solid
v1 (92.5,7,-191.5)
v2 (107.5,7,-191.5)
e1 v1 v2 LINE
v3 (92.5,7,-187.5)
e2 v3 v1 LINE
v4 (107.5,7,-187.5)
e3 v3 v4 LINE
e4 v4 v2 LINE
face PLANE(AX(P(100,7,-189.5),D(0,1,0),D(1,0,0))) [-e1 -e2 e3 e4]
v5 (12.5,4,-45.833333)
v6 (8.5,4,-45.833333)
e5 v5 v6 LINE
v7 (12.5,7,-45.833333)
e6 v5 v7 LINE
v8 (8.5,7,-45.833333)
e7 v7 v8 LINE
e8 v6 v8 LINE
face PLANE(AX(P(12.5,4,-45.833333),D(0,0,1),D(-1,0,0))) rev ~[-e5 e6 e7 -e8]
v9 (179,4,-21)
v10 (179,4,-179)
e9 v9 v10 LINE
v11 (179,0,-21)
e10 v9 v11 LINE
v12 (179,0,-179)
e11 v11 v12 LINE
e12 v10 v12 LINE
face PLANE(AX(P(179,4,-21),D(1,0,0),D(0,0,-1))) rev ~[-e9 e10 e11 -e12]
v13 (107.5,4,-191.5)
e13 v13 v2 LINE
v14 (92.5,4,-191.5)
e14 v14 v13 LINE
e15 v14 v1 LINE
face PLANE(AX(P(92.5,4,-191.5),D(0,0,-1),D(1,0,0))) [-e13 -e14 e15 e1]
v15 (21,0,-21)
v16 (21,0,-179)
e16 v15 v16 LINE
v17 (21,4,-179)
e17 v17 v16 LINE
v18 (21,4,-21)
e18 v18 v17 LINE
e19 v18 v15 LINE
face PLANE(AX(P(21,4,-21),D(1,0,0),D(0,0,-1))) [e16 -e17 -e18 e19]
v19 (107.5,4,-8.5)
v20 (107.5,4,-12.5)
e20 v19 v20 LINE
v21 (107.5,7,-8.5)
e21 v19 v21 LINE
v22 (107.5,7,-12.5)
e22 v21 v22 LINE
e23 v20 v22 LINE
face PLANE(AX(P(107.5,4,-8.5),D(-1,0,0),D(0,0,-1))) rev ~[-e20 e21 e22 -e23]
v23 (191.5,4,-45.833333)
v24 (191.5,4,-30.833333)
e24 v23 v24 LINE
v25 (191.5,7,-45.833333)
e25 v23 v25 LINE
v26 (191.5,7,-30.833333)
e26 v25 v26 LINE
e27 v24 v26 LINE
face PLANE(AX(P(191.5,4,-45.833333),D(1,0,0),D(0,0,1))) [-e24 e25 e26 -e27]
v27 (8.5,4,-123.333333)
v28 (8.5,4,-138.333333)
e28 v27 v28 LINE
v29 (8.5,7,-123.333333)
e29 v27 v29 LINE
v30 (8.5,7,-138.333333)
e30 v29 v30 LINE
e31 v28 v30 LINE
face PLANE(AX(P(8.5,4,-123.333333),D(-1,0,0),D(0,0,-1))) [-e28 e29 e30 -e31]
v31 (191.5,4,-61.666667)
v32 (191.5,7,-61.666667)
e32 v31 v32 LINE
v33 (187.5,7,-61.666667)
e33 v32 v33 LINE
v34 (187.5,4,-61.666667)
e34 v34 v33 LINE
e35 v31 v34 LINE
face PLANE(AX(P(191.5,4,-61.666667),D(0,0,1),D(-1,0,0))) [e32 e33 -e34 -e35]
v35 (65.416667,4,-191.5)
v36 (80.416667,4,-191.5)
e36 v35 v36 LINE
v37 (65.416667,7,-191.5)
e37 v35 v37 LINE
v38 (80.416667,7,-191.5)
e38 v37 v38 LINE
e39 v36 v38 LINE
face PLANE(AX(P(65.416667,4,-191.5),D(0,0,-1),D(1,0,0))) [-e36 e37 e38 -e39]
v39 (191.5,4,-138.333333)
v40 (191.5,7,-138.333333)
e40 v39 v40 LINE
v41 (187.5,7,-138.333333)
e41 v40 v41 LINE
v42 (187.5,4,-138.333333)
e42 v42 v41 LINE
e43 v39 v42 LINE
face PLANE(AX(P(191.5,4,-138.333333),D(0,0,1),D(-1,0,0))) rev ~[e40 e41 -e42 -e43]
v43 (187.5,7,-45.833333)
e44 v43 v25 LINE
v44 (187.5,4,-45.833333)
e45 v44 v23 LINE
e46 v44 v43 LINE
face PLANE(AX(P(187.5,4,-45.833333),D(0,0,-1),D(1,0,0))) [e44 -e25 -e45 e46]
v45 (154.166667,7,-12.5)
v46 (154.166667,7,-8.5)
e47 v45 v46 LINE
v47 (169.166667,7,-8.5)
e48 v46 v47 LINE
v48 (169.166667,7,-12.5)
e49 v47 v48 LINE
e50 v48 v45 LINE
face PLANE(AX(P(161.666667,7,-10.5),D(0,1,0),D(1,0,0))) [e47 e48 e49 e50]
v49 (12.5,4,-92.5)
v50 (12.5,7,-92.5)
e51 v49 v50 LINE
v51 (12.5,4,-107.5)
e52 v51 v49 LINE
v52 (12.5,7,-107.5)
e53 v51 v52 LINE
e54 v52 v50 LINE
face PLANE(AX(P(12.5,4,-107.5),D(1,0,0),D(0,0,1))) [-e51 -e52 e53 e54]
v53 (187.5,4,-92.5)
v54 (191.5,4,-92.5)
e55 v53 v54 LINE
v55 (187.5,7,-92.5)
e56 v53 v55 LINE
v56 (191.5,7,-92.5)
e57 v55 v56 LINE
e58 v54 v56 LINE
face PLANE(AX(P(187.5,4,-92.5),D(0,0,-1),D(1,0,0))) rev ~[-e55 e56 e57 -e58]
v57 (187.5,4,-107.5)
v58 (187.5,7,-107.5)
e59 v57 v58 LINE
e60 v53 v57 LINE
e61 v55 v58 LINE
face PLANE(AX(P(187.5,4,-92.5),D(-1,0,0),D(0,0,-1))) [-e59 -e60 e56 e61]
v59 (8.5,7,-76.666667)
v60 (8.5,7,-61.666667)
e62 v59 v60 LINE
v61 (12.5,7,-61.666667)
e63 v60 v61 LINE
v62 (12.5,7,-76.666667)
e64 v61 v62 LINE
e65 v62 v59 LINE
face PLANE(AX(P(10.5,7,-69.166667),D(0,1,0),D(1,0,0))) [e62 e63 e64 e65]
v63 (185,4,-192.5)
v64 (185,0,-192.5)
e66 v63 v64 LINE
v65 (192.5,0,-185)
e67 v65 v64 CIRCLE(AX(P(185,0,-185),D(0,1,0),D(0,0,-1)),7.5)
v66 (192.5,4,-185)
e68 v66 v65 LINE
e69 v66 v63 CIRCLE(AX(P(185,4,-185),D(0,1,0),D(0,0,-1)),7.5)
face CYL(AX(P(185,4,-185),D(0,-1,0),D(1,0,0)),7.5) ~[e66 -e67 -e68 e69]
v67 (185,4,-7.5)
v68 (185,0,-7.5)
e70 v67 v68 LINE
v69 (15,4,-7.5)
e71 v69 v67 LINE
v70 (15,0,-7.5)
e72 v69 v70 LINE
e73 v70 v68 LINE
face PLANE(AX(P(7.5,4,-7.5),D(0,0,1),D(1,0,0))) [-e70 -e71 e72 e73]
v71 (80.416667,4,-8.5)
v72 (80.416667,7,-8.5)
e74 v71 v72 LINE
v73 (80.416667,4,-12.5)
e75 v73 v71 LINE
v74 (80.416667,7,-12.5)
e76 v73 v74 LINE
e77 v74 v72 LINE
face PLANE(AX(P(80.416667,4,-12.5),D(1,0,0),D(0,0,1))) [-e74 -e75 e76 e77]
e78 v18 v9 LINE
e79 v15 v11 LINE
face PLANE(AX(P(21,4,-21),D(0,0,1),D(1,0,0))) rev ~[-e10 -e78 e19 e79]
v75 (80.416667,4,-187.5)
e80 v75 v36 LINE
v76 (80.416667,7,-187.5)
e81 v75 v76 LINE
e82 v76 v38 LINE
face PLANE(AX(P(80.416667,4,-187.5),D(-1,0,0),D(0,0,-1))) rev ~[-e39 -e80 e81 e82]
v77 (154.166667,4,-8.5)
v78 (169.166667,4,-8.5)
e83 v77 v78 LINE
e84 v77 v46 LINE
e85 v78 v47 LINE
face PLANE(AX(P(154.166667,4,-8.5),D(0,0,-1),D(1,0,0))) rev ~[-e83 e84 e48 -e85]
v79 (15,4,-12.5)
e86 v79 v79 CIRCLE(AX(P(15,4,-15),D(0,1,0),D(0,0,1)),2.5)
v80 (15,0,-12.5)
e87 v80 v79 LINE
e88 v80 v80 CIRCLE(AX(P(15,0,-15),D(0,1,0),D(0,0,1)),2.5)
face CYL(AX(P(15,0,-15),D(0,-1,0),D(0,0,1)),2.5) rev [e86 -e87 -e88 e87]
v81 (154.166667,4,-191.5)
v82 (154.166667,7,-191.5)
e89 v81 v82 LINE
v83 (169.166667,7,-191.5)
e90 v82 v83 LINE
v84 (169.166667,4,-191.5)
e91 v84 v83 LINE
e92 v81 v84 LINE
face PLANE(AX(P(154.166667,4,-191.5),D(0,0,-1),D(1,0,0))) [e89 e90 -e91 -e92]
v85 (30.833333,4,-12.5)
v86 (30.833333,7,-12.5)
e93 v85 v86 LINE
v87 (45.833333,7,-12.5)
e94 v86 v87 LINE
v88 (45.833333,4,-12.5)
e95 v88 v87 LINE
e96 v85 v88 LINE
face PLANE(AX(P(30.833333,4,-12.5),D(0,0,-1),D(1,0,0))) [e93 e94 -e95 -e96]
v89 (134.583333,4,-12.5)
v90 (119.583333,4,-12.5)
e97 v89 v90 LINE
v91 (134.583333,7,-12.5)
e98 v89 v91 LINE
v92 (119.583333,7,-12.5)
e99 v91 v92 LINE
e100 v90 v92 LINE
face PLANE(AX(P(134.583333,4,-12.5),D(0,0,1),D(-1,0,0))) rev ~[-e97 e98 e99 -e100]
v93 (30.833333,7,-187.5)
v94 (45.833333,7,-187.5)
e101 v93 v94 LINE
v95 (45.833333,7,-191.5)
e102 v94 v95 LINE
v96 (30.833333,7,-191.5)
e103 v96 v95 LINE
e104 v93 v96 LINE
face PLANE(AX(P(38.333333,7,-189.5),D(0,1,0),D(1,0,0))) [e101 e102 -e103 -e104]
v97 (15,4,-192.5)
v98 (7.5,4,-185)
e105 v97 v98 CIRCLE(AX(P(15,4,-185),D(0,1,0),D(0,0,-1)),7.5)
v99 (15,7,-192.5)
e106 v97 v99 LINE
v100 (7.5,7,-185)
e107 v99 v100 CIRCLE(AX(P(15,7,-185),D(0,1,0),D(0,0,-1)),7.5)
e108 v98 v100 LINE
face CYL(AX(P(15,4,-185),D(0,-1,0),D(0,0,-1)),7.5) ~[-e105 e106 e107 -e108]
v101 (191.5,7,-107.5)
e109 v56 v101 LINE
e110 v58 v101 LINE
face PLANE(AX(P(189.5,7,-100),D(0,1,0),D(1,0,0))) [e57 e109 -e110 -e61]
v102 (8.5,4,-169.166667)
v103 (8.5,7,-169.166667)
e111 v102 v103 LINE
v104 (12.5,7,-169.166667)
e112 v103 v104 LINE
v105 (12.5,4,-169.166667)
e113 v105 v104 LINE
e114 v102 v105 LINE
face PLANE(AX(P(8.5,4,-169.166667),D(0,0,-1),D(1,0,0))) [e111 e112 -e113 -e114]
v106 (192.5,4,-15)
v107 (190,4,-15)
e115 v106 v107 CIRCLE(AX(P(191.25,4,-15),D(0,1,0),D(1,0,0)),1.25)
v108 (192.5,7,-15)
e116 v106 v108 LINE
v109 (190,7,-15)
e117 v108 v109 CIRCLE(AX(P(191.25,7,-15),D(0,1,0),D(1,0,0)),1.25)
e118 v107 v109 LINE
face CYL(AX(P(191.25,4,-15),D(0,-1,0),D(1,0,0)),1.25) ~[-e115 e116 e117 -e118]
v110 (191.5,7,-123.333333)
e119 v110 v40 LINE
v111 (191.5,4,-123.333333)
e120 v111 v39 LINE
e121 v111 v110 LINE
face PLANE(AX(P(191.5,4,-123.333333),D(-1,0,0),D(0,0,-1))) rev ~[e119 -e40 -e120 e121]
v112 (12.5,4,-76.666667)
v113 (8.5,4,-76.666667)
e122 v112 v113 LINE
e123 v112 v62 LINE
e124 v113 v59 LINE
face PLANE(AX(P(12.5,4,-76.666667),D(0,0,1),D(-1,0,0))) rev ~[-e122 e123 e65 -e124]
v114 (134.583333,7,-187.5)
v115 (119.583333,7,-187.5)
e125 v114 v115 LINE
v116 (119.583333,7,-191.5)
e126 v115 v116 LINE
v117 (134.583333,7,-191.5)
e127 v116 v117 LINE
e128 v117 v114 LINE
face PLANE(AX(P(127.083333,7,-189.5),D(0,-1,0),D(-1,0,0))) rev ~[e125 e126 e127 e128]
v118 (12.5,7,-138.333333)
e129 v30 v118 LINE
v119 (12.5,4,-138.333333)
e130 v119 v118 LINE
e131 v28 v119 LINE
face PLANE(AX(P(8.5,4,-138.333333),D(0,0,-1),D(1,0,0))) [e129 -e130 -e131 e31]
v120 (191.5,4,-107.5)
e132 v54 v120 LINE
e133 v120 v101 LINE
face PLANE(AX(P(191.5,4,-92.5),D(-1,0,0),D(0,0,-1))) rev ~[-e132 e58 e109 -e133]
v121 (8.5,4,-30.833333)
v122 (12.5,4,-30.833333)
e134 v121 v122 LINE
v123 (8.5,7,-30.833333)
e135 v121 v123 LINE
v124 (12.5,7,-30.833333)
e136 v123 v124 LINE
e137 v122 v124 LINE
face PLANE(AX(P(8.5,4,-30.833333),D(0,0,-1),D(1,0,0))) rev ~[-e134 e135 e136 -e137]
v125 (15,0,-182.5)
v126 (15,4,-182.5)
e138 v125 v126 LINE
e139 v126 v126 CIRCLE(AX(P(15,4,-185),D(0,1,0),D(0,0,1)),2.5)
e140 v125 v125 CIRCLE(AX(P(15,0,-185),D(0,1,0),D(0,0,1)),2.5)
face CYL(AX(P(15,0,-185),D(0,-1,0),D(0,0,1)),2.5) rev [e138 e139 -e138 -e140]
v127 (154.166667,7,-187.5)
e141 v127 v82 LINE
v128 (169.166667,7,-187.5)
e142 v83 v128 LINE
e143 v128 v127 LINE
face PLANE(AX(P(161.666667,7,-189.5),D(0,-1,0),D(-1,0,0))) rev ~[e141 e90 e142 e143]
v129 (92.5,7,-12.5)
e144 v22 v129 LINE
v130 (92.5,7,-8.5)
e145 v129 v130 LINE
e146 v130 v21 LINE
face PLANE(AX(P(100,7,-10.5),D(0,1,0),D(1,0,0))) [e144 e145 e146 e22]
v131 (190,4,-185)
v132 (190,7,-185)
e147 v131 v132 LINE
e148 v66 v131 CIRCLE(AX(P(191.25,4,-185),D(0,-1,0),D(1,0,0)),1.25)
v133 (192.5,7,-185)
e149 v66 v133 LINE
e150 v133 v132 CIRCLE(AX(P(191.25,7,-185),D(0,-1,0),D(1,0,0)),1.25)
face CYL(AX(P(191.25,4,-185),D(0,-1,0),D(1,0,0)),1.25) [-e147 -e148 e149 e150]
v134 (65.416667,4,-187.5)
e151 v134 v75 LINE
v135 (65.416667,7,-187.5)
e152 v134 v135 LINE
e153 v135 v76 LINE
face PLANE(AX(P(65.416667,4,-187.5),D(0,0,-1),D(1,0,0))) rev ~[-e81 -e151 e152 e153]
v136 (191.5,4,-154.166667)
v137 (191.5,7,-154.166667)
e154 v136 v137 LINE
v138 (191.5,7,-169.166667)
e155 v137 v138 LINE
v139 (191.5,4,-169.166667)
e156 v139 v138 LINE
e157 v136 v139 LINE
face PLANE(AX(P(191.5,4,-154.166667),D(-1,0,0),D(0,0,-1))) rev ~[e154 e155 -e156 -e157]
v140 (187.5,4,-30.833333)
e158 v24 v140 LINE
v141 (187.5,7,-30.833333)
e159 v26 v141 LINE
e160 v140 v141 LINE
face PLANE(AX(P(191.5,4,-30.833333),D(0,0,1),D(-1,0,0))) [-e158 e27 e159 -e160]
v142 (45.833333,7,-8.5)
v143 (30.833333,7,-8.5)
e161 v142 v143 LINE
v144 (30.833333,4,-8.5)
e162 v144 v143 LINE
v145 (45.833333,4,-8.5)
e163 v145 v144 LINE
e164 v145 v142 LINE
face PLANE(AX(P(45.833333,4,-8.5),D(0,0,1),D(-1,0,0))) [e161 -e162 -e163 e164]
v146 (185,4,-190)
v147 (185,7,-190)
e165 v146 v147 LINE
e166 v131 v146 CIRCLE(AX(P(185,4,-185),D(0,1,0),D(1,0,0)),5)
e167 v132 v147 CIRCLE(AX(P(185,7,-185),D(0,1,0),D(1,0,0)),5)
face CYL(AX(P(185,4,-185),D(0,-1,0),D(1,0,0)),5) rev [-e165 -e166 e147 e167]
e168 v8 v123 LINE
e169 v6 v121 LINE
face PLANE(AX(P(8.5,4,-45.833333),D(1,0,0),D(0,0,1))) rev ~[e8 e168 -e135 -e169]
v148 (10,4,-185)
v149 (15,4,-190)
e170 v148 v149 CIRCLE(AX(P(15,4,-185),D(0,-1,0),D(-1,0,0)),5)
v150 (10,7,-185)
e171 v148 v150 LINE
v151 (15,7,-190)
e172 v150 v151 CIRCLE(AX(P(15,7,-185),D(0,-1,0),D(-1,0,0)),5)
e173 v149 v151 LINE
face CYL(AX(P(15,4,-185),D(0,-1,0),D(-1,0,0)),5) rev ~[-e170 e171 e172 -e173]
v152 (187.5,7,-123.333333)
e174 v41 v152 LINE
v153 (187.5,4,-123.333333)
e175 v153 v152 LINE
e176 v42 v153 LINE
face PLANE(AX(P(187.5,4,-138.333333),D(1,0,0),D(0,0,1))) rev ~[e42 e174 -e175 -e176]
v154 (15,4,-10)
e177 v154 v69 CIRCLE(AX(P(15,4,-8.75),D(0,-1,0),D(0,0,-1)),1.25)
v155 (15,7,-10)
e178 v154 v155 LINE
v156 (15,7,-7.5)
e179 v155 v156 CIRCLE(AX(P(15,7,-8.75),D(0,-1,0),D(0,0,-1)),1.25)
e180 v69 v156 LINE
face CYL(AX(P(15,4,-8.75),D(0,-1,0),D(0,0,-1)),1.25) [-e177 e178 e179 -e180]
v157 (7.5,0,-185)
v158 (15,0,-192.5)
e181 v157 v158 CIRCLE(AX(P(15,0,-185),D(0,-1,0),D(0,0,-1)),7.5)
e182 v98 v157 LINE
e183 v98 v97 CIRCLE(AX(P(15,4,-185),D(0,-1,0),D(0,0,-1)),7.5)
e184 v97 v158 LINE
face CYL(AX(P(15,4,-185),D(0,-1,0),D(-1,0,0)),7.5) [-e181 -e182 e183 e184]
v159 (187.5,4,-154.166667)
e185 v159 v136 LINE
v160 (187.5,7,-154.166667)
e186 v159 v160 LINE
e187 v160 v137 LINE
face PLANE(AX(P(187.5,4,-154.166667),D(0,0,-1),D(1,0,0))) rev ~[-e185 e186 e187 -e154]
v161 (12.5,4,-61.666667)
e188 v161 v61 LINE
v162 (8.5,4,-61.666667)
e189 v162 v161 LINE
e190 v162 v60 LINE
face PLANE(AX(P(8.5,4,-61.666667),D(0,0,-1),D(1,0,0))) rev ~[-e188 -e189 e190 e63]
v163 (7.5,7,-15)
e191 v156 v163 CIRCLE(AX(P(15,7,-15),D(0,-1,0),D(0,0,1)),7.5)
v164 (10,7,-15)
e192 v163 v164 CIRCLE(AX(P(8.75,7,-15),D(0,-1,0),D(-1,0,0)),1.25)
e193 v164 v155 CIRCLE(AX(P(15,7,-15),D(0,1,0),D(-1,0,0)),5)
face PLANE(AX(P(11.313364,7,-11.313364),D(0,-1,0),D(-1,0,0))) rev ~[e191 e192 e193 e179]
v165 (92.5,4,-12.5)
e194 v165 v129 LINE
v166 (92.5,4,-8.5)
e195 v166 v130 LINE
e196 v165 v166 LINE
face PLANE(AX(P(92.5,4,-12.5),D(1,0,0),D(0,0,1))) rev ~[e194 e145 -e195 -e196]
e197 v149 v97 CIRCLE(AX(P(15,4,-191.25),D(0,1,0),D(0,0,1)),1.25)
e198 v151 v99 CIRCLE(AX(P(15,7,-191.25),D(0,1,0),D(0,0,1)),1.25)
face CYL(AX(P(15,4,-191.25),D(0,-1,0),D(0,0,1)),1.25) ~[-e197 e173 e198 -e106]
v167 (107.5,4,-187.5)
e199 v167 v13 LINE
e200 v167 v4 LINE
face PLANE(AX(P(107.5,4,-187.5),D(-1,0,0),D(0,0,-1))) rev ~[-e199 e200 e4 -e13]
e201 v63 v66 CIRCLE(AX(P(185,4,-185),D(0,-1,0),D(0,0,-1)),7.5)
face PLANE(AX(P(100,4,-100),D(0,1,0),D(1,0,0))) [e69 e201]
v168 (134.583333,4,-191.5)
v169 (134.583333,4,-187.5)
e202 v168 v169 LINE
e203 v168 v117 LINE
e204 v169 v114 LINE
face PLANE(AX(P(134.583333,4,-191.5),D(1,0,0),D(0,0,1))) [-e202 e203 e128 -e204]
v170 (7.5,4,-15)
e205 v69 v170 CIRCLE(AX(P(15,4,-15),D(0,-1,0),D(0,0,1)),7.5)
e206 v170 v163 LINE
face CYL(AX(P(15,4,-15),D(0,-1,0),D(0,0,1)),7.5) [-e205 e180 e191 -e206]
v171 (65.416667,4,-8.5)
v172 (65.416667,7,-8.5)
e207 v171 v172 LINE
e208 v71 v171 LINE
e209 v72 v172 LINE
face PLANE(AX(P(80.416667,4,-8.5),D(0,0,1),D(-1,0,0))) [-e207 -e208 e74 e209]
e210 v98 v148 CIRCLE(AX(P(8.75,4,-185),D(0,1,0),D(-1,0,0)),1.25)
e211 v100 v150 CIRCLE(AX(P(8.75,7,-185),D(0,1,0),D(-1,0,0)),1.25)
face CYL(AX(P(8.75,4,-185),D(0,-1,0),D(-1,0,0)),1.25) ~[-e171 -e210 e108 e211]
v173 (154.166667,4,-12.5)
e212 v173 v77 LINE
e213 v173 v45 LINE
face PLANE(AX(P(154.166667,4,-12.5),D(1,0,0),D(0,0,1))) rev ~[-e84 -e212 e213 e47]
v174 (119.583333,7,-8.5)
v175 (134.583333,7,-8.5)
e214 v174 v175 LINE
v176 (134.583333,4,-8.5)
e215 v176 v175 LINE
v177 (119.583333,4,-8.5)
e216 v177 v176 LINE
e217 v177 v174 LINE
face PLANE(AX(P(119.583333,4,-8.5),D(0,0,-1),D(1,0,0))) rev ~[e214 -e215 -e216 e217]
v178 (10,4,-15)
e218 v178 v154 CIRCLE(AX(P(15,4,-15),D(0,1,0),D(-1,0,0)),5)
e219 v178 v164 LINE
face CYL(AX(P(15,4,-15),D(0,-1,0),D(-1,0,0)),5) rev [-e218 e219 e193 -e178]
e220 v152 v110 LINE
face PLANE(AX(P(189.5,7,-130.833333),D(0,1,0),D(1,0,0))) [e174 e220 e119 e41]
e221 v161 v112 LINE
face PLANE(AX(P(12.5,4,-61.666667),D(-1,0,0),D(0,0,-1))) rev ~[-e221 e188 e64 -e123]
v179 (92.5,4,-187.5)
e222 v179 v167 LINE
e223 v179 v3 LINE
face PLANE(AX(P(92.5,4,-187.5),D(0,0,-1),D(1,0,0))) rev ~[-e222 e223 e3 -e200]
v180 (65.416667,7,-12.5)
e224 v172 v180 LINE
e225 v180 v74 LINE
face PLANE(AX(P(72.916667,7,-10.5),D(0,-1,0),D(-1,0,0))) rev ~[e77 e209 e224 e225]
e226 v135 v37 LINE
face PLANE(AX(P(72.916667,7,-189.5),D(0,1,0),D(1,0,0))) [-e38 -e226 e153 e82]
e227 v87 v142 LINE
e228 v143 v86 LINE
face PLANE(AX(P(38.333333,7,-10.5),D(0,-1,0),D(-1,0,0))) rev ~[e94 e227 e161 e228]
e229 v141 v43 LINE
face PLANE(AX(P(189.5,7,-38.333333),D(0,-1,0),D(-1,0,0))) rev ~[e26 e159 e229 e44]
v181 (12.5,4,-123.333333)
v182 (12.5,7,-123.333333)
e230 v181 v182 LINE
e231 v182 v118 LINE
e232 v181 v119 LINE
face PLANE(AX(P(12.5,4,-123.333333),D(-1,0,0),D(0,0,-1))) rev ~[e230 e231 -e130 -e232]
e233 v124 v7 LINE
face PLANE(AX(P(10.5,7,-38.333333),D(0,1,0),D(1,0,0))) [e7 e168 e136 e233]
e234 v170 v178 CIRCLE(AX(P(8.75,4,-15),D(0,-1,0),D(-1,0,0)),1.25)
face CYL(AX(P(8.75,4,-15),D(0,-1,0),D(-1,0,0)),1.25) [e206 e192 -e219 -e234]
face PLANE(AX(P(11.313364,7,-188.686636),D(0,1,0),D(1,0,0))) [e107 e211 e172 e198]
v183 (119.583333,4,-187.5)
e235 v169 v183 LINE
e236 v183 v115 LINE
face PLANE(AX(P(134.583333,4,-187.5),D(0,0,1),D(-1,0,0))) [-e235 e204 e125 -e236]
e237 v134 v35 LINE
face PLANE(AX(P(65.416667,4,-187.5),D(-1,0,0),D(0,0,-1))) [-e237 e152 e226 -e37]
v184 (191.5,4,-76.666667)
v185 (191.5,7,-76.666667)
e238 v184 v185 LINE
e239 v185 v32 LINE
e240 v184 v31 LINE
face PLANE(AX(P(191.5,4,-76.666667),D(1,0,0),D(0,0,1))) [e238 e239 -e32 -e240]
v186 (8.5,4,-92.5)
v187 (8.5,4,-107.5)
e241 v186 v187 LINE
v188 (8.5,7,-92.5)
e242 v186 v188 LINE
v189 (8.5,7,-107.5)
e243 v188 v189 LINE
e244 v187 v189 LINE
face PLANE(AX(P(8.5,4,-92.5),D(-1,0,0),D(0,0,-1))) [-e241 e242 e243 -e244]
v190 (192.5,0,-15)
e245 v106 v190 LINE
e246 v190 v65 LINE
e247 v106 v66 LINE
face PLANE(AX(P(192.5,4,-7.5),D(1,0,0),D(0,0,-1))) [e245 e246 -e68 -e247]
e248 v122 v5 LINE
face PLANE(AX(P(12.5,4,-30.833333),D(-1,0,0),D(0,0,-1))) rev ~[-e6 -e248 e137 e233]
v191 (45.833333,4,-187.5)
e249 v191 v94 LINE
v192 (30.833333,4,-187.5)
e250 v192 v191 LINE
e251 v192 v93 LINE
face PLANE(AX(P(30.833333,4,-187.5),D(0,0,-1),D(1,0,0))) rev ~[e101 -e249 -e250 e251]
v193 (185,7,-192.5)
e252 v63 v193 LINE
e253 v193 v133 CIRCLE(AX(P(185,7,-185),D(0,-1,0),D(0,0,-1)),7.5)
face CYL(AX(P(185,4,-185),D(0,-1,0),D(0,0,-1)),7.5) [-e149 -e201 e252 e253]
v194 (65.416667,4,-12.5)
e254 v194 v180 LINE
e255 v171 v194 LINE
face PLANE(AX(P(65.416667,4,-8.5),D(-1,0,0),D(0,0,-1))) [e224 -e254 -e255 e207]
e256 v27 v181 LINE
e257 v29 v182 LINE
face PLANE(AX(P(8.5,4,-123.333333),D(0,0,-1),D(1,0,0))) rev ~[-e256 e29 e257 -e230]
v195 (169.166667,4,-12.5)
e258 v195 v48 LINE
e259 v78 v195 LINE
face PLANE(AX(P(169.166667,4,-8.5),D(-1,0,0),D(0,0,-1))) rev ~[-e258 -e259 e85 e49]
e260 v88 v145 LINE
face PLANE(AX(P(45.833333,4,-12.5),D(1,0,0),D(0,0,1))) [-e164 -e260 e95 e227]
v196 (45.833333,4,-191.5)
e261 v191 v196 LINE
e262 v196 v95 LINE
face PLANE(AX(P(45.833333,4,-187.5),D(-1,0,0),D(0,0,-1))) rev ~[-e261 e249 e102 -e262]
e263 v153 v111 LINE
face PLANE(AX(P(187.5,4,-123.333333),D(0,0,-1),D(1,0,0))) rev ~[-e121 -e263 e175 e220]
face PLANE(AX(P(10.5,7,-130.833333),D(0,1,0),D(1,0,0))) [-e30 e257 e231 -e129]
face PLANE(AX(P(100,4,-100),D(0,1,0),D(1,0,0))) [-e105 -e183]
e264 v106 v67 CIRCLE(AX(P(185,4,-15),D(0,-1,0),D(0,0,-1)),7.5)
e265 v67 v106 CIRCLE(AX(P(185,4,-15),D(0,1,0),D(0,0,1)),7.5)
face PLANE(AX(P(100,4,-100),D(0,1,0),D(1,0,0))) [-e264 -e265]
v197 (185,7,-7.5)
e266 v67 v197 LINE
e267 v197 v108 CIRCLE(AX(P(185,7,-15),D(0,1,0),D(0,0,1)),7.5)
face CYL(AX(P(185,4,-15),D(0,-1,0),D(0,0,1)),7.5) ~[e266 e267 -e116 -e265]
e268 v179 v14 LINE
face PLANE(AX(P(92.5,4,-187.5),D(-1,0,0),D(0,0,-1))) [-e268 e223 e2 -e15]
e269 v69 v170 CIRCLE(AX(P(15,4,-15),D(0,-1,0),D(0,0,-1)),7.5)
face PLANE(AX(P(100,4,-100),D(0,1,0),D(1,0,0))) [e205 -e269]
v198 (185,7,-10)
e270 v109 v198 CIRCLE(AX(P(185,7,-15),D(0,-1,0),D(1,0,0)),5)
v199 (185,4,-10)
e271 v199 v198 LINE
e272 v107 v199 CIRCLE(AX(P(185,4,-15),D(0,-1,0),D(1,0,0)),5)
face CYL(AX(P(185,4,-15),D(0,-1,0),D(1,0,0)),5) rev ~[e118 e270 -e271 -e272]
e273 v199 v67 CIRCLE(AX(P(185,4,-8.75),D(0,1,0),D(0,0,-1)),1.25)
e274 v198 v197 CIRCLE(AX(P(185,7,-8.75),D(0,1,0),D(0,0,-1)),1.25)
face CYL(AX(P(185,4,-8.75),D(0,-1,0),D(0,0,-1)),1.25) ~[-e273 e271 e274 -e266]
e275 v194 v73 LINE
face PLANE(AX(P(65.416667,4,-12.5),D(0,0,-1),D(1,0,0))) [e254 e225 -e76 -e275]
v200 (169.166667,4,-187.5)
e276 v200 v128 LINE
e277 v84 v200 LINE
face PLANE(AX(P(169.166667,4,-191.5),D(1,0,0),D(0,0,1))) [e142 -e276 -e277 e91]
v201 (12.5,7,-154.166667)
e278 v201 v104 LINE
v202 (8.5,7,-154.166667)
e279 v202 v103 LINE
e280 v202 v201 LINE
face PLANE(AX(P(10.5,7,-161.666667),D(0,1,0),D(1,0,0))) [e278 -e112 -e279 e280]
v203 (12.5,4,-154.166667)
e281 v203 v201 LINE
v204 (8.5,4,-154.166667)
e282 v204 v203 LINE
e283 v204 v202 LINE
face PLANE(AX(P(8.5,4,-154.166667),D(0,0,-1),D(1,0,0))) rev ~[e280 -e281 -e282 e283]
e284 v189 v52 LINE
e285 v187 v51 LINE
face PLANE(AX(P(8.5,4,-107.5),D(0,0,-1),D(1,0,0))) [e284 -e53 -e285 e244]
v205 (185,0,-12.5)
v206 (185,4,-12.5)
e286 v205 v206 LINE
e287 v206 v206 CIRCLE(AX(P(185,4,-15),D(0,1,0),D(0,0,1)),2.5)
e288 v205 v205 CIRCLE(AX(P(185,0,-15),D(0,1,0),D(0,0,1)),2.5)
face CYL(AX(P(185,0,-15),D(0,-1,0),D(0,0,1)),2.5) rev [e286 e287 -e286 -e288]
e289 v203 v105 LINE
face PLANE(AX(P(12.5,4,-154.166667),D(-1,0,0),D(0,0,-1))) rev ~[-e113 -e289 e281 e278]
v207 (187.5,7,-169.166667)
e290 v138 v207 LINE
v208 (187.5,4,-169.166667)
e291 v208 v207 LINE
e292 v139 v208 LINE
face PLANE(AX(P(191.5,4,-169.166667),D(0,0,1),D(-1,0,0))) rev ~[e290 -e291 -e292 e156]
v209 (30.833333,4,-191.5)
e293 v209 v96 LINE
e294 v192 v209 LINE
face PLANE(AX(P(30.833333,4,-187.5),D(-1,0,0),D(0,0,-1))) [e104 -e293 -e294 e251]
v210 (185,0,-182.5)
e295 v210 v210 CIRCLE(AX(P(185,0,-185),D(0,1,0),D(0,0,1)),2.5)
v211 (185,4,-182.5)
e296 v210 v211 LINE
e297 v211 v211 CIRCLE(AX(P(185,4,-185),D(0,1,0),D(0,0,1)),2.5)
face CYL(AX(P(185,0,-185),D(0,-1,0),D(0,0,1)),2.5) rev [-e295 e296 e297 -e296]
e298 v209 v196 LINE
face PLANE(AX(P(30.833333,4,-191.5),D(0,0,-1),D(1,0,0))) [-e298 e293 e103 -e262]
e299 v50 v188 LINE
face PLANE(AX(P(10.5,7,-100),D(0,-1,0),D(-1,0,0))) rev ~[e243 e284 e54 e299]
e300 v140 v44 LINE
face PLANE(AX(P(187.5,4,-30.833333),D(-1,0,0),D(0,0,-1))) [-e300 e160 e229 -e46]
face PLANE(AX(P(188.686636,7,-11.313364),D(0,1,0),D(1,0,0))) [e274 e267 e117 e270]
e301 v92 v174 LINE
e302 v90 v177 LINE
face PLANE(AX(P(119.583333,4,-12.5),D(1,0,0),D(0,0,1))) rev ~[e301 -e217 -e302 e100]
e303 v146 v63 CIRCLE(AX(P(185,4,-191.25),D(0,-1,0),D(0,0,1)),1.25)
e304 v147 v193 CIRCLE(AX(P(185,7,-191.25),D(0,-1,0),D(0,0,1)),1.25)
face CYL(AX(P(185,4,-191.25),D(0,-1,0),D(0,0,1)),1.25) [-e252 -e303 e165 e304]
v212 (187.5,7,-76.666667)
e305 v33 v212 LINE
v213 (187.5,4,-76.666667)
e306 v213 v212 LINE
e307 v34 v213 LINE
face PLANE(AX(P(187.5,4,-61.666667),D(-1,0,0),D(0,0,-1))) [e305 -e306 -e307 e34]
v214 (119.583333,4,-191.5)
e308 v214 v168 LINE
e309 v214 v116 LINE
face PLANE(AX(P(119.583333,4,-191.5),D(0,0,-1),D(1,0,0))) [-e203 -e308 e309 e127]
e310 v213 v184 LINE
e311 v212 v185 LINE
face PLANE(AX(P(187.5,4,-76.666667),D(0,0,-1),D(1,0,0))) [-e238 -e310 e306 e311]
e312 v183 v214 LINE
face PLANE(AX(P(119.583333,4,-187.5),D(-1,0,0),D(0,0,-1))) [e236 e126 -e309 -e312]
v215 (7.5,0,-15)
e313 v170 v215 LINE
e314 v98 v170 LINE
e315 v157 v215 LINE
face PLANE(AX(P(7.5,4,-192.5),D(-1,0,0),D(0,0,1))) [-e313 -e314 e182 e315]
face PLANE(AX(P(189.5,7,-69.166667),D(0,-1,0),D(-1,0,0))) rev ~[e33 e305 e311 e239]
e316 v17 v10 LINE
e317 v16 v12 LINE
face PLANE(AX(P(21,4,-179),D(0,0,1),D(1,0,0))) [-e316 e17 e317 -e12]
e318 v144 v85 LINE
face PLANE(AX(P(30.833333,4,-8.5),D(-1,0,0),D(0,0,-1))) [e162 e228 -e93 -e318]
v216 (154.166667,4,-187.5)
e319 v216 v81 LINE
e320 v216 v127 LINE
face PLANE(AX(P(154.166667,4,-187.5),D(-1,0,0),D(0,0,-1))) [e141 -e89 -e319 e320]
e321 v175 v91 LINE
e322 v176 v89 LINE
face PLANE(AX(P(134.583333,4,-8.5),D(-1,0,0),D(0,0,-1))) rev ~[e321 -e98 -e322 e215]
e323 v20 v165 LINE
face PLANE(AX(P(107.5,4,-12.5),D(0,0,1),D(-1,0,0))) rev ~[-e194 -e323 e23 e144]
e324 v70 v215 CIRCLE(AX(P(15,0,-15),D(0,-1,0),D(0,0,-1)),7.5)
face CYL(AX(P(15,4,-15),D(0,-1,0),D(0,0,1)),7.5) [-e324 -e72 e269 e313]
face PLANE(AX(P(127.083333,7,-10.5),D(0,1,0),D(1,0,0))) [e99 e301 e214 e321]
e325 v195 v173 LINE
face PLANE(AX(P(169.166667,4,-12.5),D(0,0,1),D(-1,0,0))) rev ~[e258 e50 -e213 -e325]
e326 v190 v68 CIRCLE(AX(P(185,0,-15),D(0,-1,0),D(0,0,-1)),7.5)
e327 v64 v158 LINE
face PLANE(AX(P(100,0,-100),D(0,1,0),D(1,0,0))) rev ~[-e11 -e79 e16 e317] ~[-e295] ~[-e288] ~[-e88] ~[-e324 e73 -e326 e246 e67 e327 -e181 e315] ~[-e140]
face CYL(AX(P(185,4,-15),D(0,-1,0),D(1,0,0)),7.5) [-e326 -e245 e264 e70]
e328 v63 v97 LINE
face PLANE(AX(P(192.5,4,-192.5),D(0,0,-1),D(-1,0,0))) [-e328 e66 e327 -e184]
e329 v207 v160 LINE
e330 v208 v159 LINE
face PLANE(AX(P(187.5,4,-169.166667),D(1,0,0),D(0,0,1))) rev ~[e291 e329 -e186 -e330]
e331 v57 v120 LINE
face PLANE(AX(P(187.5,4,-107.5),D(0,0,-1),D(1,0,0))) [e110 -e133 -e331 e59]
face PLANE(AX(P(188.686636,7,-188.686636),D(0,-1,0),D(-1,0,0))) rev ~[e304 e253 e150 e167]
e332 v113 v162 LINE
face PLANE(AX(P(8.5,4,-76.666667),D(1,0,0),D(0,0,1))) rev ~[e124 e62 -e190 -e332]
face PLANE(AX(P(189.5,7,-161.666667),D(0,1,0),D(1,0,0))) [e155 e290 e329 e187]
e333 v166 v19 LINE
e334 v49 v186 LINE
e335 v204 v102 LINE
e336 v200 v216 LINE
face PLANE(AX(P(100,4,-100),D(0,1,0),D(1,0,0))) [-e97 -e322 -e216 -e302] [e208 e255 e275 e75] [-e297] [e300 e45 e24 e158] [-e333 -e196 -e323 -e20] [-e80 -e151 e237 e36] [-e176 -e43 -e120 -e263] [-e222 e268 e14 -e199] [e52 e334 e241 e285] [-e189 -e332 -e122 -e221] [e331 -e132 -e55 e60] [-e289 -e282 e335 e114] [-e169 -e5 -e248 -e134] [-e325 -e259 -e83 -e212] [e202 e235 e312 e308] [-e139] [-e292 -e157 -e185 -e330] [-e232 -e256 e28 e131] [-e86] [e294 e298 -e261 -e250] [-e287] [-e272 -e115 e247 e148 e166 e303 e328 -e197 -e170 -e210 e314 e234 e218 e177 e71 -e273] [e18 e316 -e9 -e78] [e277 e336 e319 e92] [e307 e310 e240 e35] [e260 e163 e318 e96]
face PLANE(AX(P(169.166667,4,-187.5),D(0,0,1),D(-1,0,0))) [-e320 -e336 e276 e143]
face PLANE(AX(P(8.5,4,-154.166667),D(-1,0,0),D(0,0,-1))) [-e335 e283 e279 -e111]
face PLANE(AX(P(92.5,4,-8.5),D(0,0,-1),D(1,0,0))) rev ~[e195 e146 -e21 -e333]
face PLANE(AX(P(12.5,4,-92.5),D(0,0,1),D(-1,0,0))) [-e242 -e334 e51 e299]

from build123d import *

# Parameters (mm, degrees)
CROQUIS1_R              = 2.499999999999999
CROQUIS1_R_2            = 2.4999999999999956
CROQUIS1_R_3            = 2.4999999999999982
SALIENTE_EXTRUIR1_DEPTH = 4
CROQUIS2_W              = 158.00000000000003
CROQUIS2_H              = 158
CORTAR_EXTRUIR1_DEPTH   = 10
CROQUIS4_W              = 4.000000000000028
CROQUIS4_H              = 15
CROQUIS4_W_2            = 4
CROQUIS4_H_2            = 14.999999999999972
CROQUIS4_H_3            = 15.000000000000028
CROQUIS4_W_3            = 15.000000000000007
CROQUIS4_H_4            = 4
CROQUIS4_W_4            = 14.999999999999986
CROQUIS4_W_5            = 15.000000000000028
SALIENTE_EXTRUIR2_DEPTH = 3
CORTAR_EXTRUIR2_DEPTH   = 5
REDONDEO1_R             = 7.5


with BuildPart() as part:
    # Croquis1 → Saliente-Extruir1 (new body)
    with BuildSketch(Plane(origin=(0, 0, 0), x_dir=(1, 0, 0), z_dir=(0, 1, 0))):
        Polygon((0, 0), (200, 0), (200, 200), (-2.776e-14, 200), align=None)
        with Locations(Location((14.99999999999995, 185.00000000000003, 0), (0, 0, 270))):
            Circle(CROQUIS1_R, mode=Mode.SUBTRACT)
        with Locations(Location((185, 185.00000000000003, 0), (0, 0, 270))):
            Circle(CROQUIS1_R_2, mode=Mode.SUBTRACT)
        with Locations(Location((185, 15.000000000000055, 0), (0, 0, 270))):
            Circle(CROQUIS1_R_2, mode=Mode.SUBTRACT)
        with Locations(Location((14.999999999999957, 15.000000000000007, 0), (0, 0, 270))):
            Circle(CROQUIS1_R_3, mode=Mode.SUBTRACT)
    extrude(amount=SALIENTE_EXTRUIR1_DEPTH)

    # Croquis2 → Cortar-Extruir1 (cut)
    with BuildSketch(Plane(origin=(0, 4, 0), x_dir=(1, 0, 0), z_dir=(0, 1, 0))):
        with Locations((100.00000000000001, 100.00000000000003)):
            Rectangle(CROQUIS2_W, CROQUIS2_H)
    extrude(amount=-CORTAR_EXTRUIR1_DEPTH, mode=Mode.SUBTRACT)

    # Croquis4 → Saliente-Extruir2 (add)
    with BuildSketch(Plane(origin=(0, 4, 0), x_dir=(1, 0, 0), z_dir=(0, 1, 0))):
        with Locations((10.499999999999982, 130.83333333333337)):
            Rectangle(CROQUIS4_W, CROQUIS4_H)
        with Locations((10.499999999999982, 161.66666666666669)):
            Rectangle(CROQUIS4_W_2, CROQUIS4_H_2)
        with Locations((189.50000000000009, 100.00000000000014)):
            Rectangle(CROQUIS4_W_2, CROQUIS4_H_3)
        with Locations((38.33333333333334, 189.5)):
            Rectangle(CROQUIS4_W_3, CROQUIS4_H_4)
        with Locations((72.91666666666669, 189.5)):
            Rectangle(CROQUIS4_W_4, CROQUIS4_H_4)
        Polygon((8.499999999999995, 107.50000000000003), (12.499999999999995, 107.50000000000003), (12.500000000000005, 92.5), (8.500000000000005, 92.5), align=None)
        with Locations((100, 189.5)):
            Rectangle(CROQUIS4_W_5, CROQUIS4_H_4)
        Polygon((191.5000000000001, 138.33333333333348), (187.50000000000006, 138.33333333333348), (187.50000000000009, 123.33333333333347), (191.50000000000014, 123.33333333333348), align=None)
        Polygon((191.50000000000003, 169.1666666666668), (187.50000000000003, 169.1666666666668), (187.50000000000006, 154.1666666666668), (191.50000000000006, 154.1666666666668), align=None)
        Polygon((169.16666666666666, 187.50000000000009), (154.16666666666666, 187.50000000000009), (154.16666666666666, 191.50000000000009), (169.16666666666663, 191.50000000000009), align=None)
        Polygon((134.58333333333334, 187.50000000000006), (119.58333333333331, 187.50000000000003), (119.58333333333331, 191.50000000000003), (134.58333333333334, 191.50000000000006), align=None)
        Polygon((8.50000000000002, 61.666666666666664), (12.500000000000048, 61.666666666666664), (12.500000000000027, 76.66666666666666), (8.499999999999998, 76.66666666666666), align=None)
        Polygon((8.500000000000071, 30.833333333333325), (12.500000000000073, 30.83333333333335), (12.500000000000055, 45.83333333333332), (8.500000000000055, 45.83333333333332), align=None)
        Polygon((30.83333333333346, 12.500000000000039), (45.83333333333347, 12.500000000000068), (45.83333333333347, 8.500000000000064), (30.833333333333467, 8.500000000000036), align=None)
        Polygon((65.41666666666679, 12.500000000000094), (80.41666666666679, 12.500000000000123), (80.4166666666668, 8.500000000000119), (65.4166666666668, 8.50000000000009), align=None)
        Polygon((107.50000000000013, 12.50000000000015), (92.5000000000001, 12.500000000000123), (92.5000000000001, 8.500000000000119), (107.50000000000013, 8.500000000000146), align=None)
        Polygon((134.58333333333346, 8.500000000000119), (134.58333333333346, 12.500000000000123), (119.58333333333343, 12.50000000000015), (119.58333333333343, 8.500000000000146), align=None)
        Polygon((169.16666666666674, 8.500000000000146), (169.16666666666677, 12.50000000000015), (154.16666666666677, 12.500000000000123), (154.16666666666677, 8.500000000000119), align=None)
        Polygon((191.5000000000001, 45.83333333333345), (191.50000000000014, 30.833333333333464), (187.50000000000014, 30.833333333333464), (187.5000000000001, 45.83333333333345), align=None)
        Polygon((191.5000000000002, 76.66666666666677), (191.50000000000017, 61.666666666666785), (187.5000000000001, 61.666666666666785), (187.50000000000014, 76.66666666666679), align=None)
        with BuildLine():
            ThreePointArc((14.99999999999995, 192.50000000000003), (9.696699141100844, 190.30330085889915), (7.499999999999951, 185.00000000000003))
            ThreePointArc((7.499999999999951, 185.00000000000003), (8.74999999999995, 183.75000000000003), (9.99999999999995, 185.00000000000003))
            ThreePointArc((9.99999999999995, 185.00000000000003), (11.464466094067213, 188.53553390593277), (14.99999999999995, 190.00000000000003))
            ThreePointArc((14.99999999999995, 190.00000000000003), (16.24999999999995, 191.25000000000003), (14.99999999999995, 192.50000000000003))
        make_face()
        with BuildLine():
            ThreePointArc((185.00000000000003, 192.50000000000014), (190.30330085889915, 190.30330085889926), (192.50000000000006, 185.00000000000014))
            ThreePointArc((192.50000000000006, 185.00000000000014), (191.25000000000006, 183.75000000000014), (190.00000000000006, 185.00000000000014))
            ThreePointArc((190.00000000000006, 185.00000000000014), (188.5355339059328, 188.53553390593288), (185.00000000000003, 190.00000000000014))
            ThreePointArc((185.00000000000003, 190.00000000000014), (183.75000000000003, 191.25000000000014), (185.00000000000003, 192.50000000000014))
        make_face()
        with BuildLine():
            ThreePointArc((15.000000000000073, 7.500000000000007), (9.696699141100964, 9.69669914110089), (7.500000000000062, 14.999999999999986))
            ThreePointArc((7.500000000000062, 14.999999999999986), (8.750000000000062, 16.249999999999986), (10.00000000000006, 14.999999999999986))
            ThreePointArc((10.00000000000006, 14.999999999999986), (11.464466094067335, 11.46446609406726), (15.000000000000071, 10.000000000000009))
            ThreePointArc((15.000000000000071, 10.000000000000009), (16.250000000000075, 8.750000000000007), (15.000000000000073, 7.500000000000007))
        make_face()
        with BuildLine():
            ThreePointArc((185.00000000000014, 10.00000000000012), (183.75000000000014, 8.750000000000119), (185.00000000000014, 7.500000000000117))
            ThreePointArc((185.00000000000014, 7.500000000000117), (190.30330085889926, 9.696699141101004), (192.50000000000017, 15.000000000000124))
            ThreePointArc((192.50000000000017, 15.000000000000124), (191.25000000000017, 16.250000000000124), (190.00000000000017, 15.000000000000124))
            ThreePointArc((190.00000000000017, 15.000000000000124), (188.5355339059329, 11.464466094067374), (185.00000000000014, 10.00000000000012))
        make_face()
    extrude(amount=SALIENTE_EXTRUIR2_DEPTH)

    # Croquis5 → Cortar-Extruir2 (cut)
    with BuildSketch(Plane(origin=(0, 4, 0), x_dir=(1, 0, 0), z_dir=(0, 1, 0))):
        Polygon((200, 200), (-2.776e-14, 200), (0, 0), (200, 0), align=None)
        Polygon((192.5, 192.5), (7.500000000000001, 192.49999999999997), (7.500000000000023, 7.5), (192.5, 7.500000000000011), align=None, mode=Mode.SUBTRACT)
    extrude(amount=-CORTAR_EXTRUIR2_DEPTH, mode=Mode.SUBTRACT)

    # Redondeo1
    redondeo1_edges = [part.edges().sort_by_distance(p)[0] for p in [
        (7.500000000000023, 2, -7.5),
        (7.500000000000001, 2, -192.49999999999997),
        (192.5, 2, -192.5),
        (192.5, 2, -7.500000000000011),
    ]]
    fillet(redondeo1_edges, radius=REDONDEO1_R)


solid = part.part
